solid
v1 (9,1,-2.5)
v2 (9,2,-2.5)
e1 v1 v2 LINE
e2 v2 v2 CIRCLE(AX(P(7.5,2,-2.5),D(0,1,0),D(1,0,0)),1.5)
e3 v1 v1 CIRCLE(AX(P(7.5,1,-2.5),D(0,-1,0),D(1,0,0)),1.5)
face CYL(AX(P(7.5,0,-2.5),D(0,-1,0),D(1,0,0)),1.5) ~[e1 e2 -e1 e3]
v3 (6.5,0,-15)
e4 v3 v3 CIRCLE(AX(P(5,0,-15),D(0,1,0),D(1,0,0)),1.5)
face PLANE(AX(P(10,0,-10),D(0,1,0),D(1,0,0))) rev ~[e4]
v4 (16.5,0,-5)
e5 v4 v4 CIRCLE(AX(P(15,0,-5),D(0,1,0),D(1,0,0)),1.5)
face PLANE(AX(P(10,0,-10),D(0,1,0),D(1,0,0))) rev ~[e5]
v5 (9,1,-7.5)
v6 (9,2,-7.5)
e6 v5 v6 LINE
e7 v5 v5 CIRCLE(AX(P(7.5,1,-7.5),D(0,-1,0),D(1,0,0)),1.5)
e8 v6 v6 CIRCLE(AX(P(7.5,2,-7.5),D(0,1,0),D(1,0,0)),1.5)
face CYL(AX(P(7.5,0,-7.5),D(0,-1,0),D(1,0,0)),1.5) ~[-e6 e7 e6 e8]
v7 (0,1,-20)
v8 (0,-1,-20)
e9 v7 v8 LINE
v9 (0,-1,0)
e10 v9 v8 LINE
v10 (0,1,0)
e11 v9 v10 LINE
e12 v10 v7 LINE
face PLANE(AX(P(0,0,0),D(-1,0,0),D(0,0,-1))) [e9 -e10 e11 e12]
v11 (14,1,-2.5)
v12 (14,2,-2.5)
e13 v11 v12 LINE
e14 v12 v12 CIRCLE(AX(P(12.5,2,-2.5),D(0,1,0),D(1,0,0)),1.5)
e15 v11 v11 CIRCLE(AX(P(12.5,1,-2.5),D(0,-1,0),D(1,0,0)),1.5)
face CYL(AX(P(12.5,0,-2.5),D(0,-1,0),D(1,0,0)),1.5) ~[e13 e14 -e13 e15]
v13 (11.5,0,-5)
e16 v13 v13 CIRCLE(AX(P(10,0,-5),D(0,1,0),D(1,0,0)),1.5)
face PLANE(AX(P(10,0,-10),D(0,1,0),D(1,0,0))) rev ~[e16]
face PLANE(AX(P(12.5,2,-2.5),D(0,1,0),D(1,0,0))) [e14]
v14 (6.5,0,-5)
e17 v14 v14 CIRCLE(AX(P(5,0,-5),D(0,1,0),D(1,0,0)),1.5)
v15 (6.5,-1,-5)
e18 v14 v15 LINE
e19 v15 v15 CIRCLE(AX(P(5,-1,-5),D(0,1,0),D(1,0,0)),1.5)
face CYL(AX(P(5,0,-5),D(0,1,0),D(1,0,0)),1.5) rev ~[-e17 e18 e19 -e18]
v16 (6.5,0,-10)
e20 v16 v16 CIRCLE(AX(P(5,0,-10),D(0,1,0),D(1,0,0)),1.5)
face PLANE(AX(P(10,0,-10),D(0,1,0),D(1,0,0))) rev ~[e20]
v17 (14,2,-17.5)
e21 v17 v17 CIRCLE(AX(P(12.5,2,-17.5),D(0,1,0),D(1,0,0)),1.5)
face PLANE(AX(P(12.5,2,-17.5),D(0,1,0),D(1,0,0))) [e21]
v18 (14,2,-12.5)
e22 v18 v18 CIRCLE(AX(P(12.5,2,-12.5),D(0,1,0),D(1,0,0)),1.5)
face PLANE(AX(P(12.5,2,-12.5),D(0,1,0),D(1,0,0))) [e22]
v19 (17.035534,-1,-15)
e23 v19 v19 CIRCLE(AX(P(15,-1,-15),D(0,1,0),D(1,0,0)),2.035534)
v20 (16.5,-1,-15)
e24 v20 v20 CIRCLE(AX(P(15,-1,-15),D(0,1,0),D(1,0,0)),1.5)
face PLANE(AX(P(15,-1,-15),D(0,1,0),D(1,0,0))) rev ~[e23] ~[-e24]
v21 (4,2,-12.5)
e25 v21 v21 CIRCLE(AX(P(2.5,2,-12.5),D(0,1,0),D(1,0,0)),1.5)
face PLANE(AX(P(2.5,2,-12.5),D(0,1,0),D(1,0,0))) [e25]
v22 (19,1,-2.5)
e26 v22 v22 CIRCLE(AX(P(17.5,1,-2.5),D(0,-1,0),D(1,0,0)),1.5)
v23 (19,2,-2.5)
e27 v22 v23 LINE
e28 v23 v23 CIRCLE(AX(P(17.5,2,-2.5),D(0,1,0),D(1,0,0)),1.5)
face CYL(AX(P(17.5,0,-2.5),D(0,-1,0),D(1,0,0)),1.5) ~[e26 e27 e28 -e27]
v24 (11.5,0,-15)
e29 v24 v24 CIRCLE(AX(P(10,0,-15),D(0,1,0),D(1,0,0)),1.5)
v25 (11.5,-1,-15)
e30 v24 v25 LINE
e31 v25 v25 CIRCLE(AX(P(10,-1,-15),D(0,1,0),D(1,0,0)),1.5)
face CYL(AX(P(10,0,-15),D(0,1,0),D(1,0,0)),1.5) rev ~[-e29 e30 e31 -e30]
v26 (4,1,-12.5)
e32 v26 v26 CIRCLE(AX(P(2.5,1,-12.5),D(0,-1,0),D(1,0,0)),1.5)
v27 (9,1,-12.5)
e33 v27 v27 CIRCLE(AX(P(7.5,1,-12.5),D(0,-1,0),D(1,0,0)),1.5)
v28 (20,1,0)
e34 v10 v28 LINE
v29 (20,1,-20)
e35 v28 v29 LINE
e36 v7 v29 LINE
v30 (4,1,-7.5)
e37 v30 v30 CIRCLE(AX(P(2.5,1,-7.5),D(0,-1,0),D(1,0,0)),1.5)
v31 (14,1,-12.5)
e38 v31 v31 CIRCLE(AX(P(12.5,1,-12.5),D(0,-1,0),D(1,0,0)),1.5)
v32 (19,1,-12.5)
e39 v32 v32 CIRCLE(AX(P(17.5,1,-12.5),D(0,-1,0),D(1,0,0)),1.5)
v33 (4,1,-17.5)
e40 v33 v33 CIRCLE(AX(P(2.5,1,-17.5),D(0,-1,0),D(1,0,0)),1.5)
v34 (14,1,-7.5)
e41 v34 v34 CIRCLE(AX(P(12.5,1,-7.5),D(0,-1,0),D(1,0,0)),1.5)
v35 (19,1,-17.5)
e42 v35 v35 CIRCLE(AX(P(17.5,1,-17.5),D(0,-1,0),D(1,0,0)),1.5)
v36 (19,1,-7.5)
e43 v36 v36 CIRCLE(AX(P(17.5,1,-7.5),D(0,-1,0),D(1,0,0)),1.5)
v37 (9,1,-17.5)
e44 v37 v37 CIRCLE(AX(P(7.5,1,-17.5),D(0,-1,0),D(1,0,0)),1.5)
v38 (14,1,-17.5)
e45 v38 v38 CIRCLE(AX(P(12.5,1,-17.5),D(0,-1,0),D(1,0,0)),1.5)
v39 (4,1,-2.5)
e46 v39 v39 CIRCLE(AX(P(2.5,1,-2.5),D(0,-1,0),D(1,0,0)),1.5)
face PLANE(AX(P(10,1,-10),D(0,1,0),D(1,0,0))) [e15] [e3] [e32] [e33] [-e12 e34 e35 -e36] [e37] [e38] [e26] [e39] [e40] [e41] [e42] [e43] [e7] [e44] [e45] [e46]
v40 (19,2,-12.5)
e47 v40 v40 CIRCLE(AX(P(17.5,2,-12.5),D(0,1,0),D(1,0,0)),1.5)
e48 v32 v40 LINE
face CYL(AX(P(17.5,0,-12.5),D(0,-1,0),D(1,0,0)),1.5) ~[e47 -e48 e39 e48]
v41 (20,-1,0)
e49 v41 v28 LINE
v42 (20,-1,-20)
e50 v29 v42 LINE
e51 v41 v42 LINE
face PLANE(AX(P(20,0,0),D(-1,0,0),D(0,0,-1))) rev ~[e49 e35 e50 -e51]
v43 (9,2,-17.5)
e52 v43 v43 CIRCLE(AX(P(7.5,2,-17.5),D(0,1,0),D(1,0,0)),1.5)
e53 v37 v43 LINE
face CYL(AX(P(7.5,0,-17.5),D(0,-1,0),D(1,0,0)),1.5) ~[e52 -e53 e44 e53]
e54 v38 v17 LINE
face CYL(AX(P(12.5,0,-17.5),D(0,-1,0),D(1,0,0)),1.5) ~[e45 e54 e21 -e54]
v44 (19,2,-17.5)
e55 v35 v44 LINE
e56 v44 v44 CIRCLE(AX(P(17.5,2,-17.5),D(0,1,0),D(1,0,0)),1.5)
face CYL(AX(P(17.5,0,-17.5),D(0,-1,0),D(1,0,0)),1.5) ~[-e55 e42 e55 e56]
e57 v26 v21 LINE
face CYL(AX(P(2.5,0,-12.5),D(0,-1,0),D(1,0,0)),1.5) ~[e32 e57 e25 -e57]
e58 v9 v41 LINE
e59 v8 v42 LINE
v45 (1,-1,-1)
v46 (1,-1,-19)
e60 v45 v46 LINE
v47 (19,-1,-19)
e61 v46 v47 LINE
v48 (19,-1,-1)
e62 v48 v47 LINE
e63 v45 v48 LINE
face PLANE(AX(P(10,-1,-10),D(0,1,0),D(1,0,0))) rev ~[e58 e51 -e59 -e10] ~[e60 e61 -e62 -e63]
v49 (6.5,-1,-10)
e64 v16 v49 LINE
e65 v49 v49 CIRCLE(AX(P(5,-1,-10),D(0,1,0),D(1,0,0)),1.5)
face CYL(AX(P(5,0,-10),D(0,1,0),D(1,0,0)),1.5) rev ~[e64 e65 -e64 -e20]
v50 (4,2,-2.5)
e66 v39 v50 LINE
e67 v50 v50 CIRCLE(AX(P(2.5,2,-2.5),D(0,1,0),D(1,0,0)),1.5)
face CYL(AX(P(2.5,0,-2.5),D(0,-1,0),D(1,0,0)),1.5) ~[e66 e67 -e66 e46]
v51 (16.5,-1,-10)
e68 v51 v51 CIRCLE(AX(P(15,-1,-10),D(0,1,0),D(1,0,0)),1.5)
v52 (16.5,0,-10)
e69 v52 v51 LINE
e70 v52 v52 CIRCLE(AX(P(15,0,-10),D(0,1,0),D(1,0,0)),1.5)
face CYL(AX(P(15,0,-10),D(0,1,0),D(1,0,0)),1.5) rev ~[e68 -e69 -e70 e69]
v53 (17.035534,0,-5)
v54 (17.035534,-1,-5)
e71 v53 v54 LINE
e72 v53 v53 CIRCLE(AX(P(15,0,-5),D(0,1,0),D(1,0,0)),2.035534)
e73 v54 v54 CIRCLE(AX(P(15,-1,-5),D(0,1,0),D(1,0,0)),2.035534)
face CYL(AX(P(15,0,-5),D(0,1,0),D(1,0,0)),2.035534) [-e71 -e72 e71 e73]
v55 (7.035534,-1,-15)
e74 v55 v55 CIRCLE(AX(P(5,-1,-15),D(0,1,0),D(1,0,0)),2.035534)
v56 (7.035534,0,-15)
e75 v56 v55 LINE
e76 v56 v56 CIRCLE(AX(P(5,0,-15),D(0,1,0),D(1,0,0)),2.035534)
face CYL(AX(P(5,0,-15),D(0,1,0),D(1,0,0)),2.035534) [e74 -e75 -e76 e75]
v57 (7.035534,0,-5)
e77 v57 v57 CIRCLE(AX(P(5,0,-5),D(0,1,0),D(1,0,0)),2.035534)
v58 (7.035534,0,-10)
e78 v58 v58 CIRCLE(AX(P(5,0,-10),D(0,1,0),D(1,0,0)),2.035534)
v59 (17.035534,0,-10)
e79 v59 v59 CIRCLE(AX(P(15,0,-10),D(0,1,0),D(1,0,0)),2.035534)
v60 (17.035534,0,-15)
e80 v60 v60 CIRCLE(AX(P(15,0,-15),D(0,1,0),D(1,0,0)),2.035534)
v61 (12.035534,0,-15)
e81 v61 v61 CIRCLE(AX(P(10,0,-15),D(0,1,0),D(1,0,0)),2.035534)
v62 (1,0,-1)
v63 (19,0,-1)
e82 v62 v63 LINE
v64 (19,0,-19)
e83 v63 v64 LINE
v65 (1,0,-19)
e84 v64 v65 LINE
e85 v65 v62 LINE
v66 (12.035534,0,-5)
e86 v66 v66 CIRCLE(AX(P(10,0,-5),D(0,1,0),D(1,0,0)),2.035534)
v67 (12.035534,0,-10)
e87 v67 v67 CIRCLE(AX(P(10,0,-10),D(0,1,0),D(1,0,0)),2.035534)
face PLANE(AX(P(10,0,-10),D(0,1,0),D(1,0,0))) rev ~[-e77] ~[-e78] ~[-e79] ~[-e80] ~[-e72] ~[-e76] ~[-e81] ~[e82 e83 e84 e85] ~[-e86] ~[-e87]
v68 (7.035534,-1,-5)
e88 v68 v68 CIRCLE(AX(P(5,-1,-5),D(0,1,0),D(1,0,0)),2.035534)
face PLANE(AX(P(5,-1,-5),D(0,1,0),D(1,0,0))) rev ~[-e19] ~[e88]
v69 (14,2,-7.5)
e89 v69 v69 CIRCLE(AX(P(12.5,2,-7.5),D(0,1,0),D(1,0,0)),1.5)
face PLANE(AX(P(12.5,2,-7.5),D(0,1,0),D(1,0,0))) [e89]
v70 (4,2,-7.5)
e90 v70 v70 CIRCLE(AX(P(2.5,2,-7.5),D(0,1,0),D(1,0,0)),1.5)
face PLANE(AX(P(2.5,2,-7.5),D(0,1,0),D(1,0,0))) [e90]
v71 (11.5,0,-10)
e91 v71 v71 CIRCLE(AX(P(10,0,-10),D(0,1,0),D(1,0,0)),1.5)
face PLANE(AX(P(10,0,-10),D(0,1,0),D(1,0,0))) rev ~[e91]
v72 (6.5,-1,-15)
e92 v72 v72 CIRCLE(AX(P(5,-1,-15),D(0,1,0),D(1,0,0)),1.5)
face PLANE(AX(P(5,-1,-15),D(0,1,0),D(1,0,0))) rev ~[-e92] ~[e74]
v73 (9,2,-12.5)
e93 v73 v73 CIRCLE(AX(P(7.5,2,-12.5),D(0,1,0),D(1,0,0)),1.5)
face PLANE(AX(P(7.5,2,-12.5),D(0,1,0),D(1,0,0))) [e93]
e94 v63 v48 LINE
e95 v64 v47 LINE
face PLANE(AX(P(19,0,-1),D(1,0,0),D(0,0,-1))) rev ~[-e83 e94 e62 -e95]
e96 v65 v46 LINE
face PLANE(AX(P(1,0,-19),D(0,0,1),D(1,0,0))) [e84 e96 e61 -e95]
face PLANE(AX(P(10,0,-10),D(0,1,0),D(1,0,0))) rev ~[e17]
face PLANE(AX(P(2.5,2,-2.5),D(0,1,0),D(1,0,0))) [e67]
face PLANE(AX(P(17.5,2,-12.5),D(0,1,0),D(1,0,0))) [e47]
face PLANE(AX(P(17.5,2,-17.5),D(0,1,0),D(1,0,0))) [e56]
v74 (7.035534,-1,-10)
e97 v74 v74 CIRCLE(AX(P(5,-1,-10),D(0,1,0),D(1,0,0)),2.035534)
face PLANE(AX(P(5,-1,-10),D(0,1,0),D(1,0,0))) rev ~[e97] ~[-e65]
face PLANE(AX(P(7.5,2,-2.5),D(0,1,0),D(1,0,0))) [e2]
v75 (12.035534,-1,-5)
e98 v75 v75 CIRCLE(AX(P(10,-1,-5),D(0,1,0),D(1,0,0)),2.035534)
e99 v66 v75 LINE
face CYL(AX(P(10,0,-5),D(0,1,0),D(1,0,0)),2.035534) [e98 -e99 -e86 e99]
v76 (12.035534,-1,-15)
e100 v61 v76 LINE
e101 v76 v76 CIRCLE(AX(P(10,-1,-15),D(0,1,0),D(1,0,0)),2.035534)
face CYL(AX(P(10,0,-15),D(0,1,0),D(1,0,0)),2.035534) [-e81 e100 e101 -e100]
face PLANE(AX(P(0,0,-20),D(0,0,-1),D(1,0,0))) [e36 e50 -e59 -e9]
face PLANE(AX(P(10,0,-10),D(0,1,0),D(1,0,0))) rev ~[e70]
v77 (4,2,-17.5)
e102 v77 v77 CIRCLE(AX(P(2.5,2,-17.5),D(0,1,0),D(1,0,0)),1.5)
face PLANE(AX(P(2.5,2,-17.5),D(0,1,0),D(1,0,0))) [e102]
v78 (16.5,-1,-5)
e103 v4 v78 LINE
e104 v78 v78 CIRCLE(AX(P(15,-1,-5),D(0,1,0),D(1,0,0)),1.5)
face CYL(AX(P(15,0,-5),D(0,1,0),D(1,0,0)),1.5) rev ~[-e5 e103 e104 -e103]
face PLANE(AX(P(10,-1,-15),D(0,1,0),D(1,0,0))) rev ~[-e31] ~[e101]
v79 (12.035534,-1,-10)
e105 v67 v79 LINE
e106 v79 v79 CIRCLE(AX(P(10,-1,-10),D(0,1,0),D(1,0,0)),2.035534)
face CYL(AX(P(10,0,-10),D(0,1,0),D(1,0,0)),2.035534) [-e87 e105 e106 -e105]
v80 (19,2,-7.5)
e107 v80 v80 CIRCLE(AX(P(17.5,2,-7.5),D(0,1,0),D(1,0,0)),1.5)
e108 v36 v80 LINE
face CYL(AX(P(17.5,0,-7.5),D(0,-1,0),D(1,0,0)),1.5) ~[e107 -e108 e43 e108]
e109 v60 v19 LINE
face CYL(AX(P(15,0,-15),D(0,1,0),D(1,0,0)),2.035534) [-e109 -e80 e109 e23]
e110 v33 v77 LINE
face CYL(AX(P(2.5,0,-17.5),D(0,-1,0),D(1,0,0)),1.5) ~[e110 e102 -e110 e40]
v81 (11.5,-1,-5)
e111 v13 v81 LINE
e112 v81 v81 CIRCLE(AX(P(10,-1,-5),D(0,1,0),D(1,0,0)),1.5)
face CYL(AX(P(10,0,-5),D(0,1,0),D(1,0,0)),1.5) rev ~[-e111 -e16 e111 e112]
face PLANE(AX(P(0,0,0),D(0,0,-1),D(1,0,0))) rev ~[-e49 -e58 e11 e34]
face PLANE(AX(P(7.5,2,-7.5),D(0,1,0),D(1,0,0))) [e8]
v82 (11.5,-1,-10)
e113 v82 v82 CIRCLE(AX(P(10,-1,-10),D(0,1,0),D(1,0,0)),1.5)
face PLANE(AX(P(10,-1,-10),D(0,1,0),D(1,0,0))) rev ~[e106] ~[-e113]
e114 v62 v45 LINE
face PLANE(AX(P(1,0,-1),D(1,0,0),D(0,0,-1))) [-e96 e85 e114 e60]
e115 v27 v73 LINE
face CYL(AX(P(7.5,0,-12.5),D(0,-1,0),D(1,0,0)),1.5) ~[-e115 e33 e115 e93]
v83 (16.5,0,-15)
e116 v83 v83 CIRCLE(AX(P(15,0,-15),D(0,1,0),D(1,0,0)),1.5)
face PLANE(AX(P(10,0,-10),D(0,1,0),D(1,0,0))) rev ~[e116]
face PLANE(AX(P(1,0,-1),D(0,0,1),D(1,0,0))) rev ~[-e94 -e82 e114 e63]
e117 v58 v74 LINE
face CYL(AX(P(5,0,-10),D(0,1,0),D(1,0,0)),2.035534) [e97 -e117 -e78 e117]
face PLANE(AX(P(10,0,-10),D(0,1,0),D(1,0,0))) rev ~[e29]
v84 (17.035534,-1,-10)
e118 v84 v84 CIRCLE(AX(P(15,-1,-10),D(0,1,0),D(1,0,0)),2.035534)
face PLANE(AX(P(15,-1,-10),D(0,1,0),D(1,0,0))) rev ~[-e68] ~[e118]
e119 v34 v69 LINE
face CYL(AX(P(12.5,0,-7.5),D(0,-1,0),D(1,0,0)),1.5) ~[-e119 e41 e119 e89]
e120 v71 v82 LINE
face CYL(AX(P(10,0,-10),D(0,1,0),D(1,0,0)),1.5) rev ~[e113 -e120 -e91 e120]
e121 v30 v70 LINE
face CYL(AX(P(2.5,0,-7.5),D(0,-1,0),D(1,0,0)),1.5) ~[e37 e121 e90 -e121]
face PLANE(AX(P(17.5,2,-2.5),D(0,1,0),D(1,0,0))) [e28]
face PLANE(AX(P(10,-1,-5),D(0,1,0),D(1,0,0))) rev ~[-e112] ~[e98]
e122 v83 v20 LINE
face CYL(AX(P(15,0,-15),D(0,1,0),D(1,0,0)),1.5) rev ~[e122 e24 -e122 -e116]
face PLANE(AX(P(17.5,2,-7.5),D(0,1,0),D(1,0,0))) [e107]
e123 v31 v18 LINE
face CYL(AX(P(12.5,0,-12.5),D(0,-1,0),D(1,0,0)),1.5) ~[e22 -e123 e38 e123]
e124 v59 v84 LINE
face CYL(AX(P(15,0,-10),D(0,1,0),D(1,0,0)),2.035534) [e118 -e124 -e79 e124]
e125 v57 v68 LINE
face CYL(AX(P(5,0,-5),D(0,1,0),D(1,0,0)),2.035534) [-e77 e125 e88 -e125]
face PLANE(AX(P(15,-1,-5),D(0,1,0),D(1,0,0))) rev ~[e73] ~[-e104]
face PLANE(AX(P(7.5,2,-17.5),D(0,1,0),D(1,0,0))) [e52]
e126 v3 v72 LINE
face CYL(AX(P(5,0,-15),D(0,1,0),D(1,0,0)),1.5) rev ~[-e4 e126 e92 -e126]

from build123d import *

# Parameters (mm, degrees)
SKETCH1_R              = 2.035533906
SKETCH1_R_2            = 1.5
BOSS_EXTRUDE1_DEPTH    = 1
SKETCH1_W              = 20
SKETCH1_H              = 20
SKETCH1_W_2            = 18
SKETCH1_H_2            = 18
BOSS_EXTRUDE1_2_DEPTH  = 1
BOSS_EXTRUDE1_3_DEPTH  = 1
BOSS_EXTRUDE1_4_DEPTH  = 1
BOSS_EXTRUDE1_5_DEPTH  = 1
BOSS_EXTRUDE1_6_DEPTH  = 1
BOSS_EXTRUDE1_7_DEPTH  = 1
BOSS_EXTRUDE1_8_DEPTH  = 1
BOSS_EXTRUDE1_9_DEPTH  = 1
BOSS_EXTRUDE1_10_DEPTH = 1
SKETCH1_3_R            = 1.5
BOSS_EXTRUDE2_DEPTH    = 2
BOSS_EXTRUDE2_2_DEPTH  = 2
BOSS_EXTRUDE2_3_DEPTH  = 2
BOSS_EXTRUDE2_4_DEPTH  = 2
BOSS_EXTRUDE2_5_DEPTH  = 2
BOSS_EXTRUDE2_6_DEPTH  = 2
BOSS_EXTRUDE2_7_DEPTH  = 2
BOSS_EXTRUDE2_8_DEPTH  = 2
BOSS_EXTRUDE2_9_DEPTH  = 2
BOSS_EXTRUDE2_10_DEPTH = 2
BOSS_EXTRUDE2_11_DEPTH = 2
BOSS_EXTRUDE2_12_DEPTH = 2
BOSS_EXTRUDE2_13_DEPTH = 2
BOSS_EXTRUDE2_14_DEPTH = 2
BOSS_EXTRUDE2_15_DEPTH = 2
BOSS_EXTRUDE2_16_DEPTH = 2
SKETCH1_4_W            = 20
SKETCH1_4_H            = 20
BOSS_EXTRUDE3_DEPTH    = 1


with BuildPart() as part:
    # Sketch1 → Boss-Extrude1 (new body)
    with BuildSketch(Plane(origin=(0, 0, 0), x_dir=(1, 0, 0), z_dir=(0, 1, 0))):
        with Locations((5, 15)):
            Circle(SKETCH1_R)
        with Locations((5, 15)):
            Circle(SKETCH1_R_2, mode=Mode.SUBTRACT)
    extrude(amount=-BOSS_EXTRUDE1_DEPTH)



with BuildPart() as body_2:
    # Sketch1 → Boss-Extrude1 2 (new body)
    with BuildSketch(Plane(origin=(0, 0, 0), x_dir=(1, 0, 0), z_dir=(0, 1, 0))):
        with Locations((10, 10)):
            Rectangle(SKETCH1_W, SKETCH1_H)
        with Locations((10, 10)):
            Rectangle(SKETCH1_W_2, SKETCH1_H_2, mode=Mode.SUBTRACT)
    extrude(amount=-BOSS_EXTRUDE1_2_DEPTH)


with BuildPart() as body_3:
    # Sketch1 → Boss-Extrude1 3 (new body)
    with BuildSketch(Plane(origin=(0, 0, 0), x_dir=(1, 0, 0), z_dir=(0, 1, 0))):
        with Locations((5, 10)):
            Circle(SKETCH1_R)
        with Locations((5, 10)):
            Circle(SKETCH1_R_2, mode=Mode.SUBTRACT)
    extrude(amount=-BOSS_EXTRUDE1_3_DEPTH)


with BuildPart() as body_4:
    # Sketch1 → Boss-Extrude1 4 (new body)
    with BuildSketch(Plane(origin=(0, 0, 0), x_dir=(1, 0, 0), z_dir=(0, 1, 0))):
        with Locations((10, 15)):
            Circle(SKETCH1_R)
        with Locations((10, 15)):
            Circle(SKETCH1_R_2, mode=Mode.SUBTRACT)
    extrude(amount=-BOSS_EXTRUDE1_4_DEPTH)


with BuildPart() as body_5:
    # Sketch1 → Boss-Extrude1 5 (new body)
    with BuildSketch(Plane(origin=(0, 0, 0), x_dir=(1, 0, 0), z_dir=(0, 1, 0))):
        with Locations((5, 5)):
            Circle(SKETCH1_R)
        with Locations((5, 5)):
            Circle(SKETCH1_R_2, mode=Mode.SUBTRACT)
    extrude(amount=-BOSS_EXTRUDE1_5_DEPTH)


with BuildPart() as body_6:
    # Sketch1 → Boss-Extrude1 6 (new body)
    with BuildSketch(Plane(origin=(0, 0, 0), x_dir=(1, 0, 0), z_dir=(0, 1, 0))):
        with Locations((10, 10)):
            Circle(SKETCH1_R)
        with Locations((10, 10)):
            Circle(SKETCH1_R_2, mode=Mode.SUBTRACT)
    extrude(amount=-BOSS_EXTRUDE1_6_DEPTH)


with BuildPart() as body_7:
    # Sketch1 → Boss-Extrude1 7 (new body)
    with BuildSketch(Plane(origin=(0, 0, 0), x_dir=(1, 0, 0), z_dir=(0, 1, 0))):
        with Locations((15, 15)):
            Circle(SKETCH1_R)
        with Locations((15, 15)):
            Circle(SKETCH1_R_2, mode=Mode.SUBTRACT)
    extrude(amount=-BOSS_EXTRUDE1_7_DEPTH)


with BuildPart() as body_8:
    # Sketch1 → Boss-Extrude1 8 (new body)
    with BuildSketch(Plane(origin=(0, 0, 0), x_dir=(1, 0, 0), z_dir=(0, 1, 0))):
        with Locations((10, 5)):
            Circle(SKETCH1_R)
        with Locations((10, 5)):
            Circle(SKETCH1_R_2, mode=Mode.SUBTRACT)
    extrude(amount=-BOSS_EXTRUDE1_8_DEPTH)


with BuildPart() as body_9:
    # Sketch1 → Boss-Extrude1 9 (new body)
    with BuildSketch(Plane(origin=(0, 0, 0), x_dir=(1, 0, 0), z_dir=(0, 1, 0))):
        with Locations((15, 10)):
            Circle(SKETCH1_R)
        with Locations((15, 10)):
            Circle(SKETCH1_R_2, mode=Mode.SUBTRACT)
    extrude(amount=-BOSS_EXTRUDE1_9_DEPTH)


with BuildPart() as body_10:
    # Sketch1 → Boss-Extrude1 10 (new body)
    with BuildSketch(Plane(origin=(0, 0, 0), x_dir=(1, 0, 0), z_dir=(0, 1, 0))):
        with Locations((15, 5)):
            Circle(SKETCH1_R)
        with Locations((15, 5)):
            Circle(SKETCH1_R_2, mode=Mode.SUBTRACT)
    extrude(amount=-BOSS_EXTRUDE1_10_DEPTH)


with BuildPart() as body_11:
    # Sketch1<3> → Boss-Extrude2 (new body)
    with BuildSketch(Plane(origin=(0, 0, 0), x_dir=(1, 0, 0), z_dir=(0, 1, 0))):
        with Locations((2.5, 12.5)):
            Circle(SKETCH1_3_R)
    extrude(amount=BOSS_EXTRUDE2_DEPTH)


with BuildPart() as body_12:
    # Sketch1<3> → Boss-Extrude2 2 (new body)
    with BuildSketch(Plane(origin=(0, 0, 0), x_dir=(1, 0, 0), z_dir=(0, 1, 0))):
        with Locations((2.5, 17.5)):
            Circle(SKETCH1_3_R)
    extrude(amount=BOSS_EXTRUDE2_2_DEPTH)


with BuildPart() as body_13:
    # Sketch1<3> → Boss-Extrude2 3 (new body)
    with BuildSketch(Plane(origin=(0, 0, 0), x_dir=(1, 0, 0), z_dir=(0, 1, 0))):
        with Locations((7.5, 12.5)):
            Circle(SKETCH1_3_R)
    extrude(amount=BOSS_EXTRUDE2_3_DEPTH)


with BuildPart() as body_14:
    # Sketch1<3> → Boss-Extrude2 4 (new body)
    with BuildSketch(Plane(origin=(0, 0, 0), x_dir=(1, 0, 0), z_dir=(0, 1, 0))):
        with Locations((2.5, 7.5)):
            Circle(SKETCH1_3_R)
    extrude(amount=BOSS_EXTRUDE2_4_DEPTH)


with BuildPart() as body_15:
    # Sketch1<3> → Boss-Extrude2 5 (new body)
    with BuildSketch(Plane(origin=(0, 0, 0), x_dir=(1, 0, 0), z_dir=(0, 1, 0))):
        with Locations((7.5, 17.5)):
            Circle(SKETCH1_3_R)
    extrude(amount=BOSS_EXTRUDE2_5_DEPTH)


with BuildPart() as body_16:
    # Sketch1<3> → Boss-Extrude2 6 (new body)
    with BuildSketch(Plane(origin=(0, 0, 0), x_dir=(1, 0, 0), z_dir=(0, 1, 0))):
        with Locations((2.5, 2.5)):
            Circle(SKETCH1_3_R)
    extrude(amount=BOSS_EXTRUDE2_6_DEPTH)


with BuildPart() as body_17:
    # Sketch1<3> → Boss-Extrude2 7 (new body)
    with BuildSketch(Plane(origin=(0, 0, 0), x_dir=(1, 0, 0), z_dir=(0, 1, 0))):
        with Locations((12.5, 12.5)):
            Circle(SKETCH1_3_R)
    extrude(amount=BOSS_EXTRUDE2_7_DEPTH)


with BuildPart() as body_18:
    # Sketch1<3> → Boss-Extrude2 8 (new body)
    with BuildSketch(Plane(origin=(0, 0, 0), x_dir=(1, 0, 0), z_dir=(0, 1, 0))):
        with Locations((7.5, 7.5)):
            Circle(SKETCH1_3_R)
    extrude(amount=BOSS_EXTRUDE2_8_DEPTH)


with BuildPart() as body_19:
    # Sketch1<3> → Boss-Extrude2 9 (new body)
    with BuildSketch(Plane(origin=(0, 0, 0), x_dir=(1, 0, 0), z_dir=(0, 1, 0))):
        with Locations((12.5, 17.5)):
            Circle(SKETCH1_3_R)
    extrude(amount=BOSS_EXTRUDE2_9_DEPTH)


with BuildPart() as body_20:
    # Sketch1<3> → Boss-Extrude2 10 (new body)
    with BuildSketch(Plane(origin=(0, 0, 0), x_dir=(1, 0, 0), z_dir=(0, 1, 0))):
        with Locations((7.5, 2.5)):
            Circle(SKETCH1_3_R)
    extrude(amount=BOSS_EXTRUDE2_10_DEPTH)


with BuildPart() as body_21:
    # Sketch1<3> → Boss-Extrude2 11 (new body)
    with BuildSketch(Plane(origin=(0, 0, 0), x_dir=(1, 0, 0), z_dir=(0, 1, 0))):
        with Locations((17.5, 17.5)):
            Circle(SKETCH1_3_R)
    extrude(amount=BOSS_EXTRUDE2_11_DEPTH)


with BuildPart() as body_22:
    # Sketch1<3> → Boss-Extrude2 12 (new body)
    with BuildSketch(Plane(origin=(0, 0, 0), x_dir=(1, 0, 0), z_dir=(0, 1, 0))):
        with Locations((17.5, 12.5)):
            Circle(SKETCH1_3_R)
    extrude(amount=BOSS_EXTRUDE2_12_DEPTH)


with BuildPart() as body_23:
    # Sketch1<3> → Boss-Extrude2 13 (new body)
    with BuildSketch(Plane(origin=(0, 0, 0), x_dir=(1, 0, 0), z_dir=(0, 1, 0))):
        with Locations((12.5, 7.5)):
            Circle(SKETCH1_3_R)
    extrude(amount=BOSS_EXTRUDE2_13_DEPTH)


with BuildPart() as body_24:
    # Sketch1<3> → Boss-Extrude2 14 (new body)
    with BuildSketch(Plane(origin=(0, 0, 0), x_dir=(1, 0, 0), z_dir=(0, 1, 0))):
        with Locations((12.5, 2.5)):
            Circle(SKETCH1_3_R)
    extrude(amount=BOSS_EXTRUDE2_14_DEPTH)


with BuildPart() as body_25:
    # Sketch1<3> → Boss-Extrude2 15 (new body)
    with BuildSketch(Plane(origin=(0, 0, 0), x_dir=(1, 0, 0), z_dir=(0, 1, 0))):
        with Locations((17.5, 2.5)):
            Circle(SKETCH1_3_R)
    extrude(amount=BOSS_EXTRUDE2_15_DEPTH)


with BuildPart() as body_26:
    # Sketch1<3> → Boss-Extrude2 16 (new body)
    with BuildSketch(Plane(origin=(0, 0, 0), x_dir=(1, 0, 0), z_dir=(0, 1, 0))):
        with Locations((17.5, 7.5)):
            Circle(SKETCH1_3_R)
    extrude(amount=BOSS_EXTRUDE2_16_DEPTH)


with BuildPart() as part_1:
    add(part.part)

    add(body_2.part)  # Boss-Extrude3 merges body 2

    add(body_3.part)  # Boss-Extrude3 merges body 3

    add(body_4.part)  # Boss-Extrude3 merges body 4

    add(body_5.part)  # Boss-Extrude3 merges body 5

    add(body_6.part)  # Boss-Extrude3 merges body 6

    add(body_7.part)  # Boss-Extrude3 merges body 7

    add(body_8.part)  # Boss-Extrude3 merges body 8

    add(body_9.part)  # Boss-Extrude3 merges body 9

    add(body_10.part)  # Boss-Extrude3 merges body 10

    add(body_11.part)  # Boss-Extrude3 merges body 11

    add(body_12.part)  # Boss-Extrude3 merges body 12

    add(body_13.part)  # Boss-Extrude3 merges body 13

    add(body_14.part)  # Boss-Extrude3 merges body 14

    add(body_15.part)  # Boss-Extrude3 merges body 15

    add(body_16.part)  # Boss-Extrude3 merges body 16

    add(body_17.part)  # Boss-Extrude3 merges body 17

    add(body_18.part)  # Boss-Extrude3 merges body 18

    add(body_19.part)  # Boss-Extrude3 merges body 19

    add(body_20.part)  # Boss-Extrude3 merges body 20

    add(body_21.part)  # Boss-Extrude3 merges body 21

    add(body_22.part)  # Boss-Extrude3 merges body 22

    add(body_23.part)  # Boss-Extrude3 merges body 23

    add(body_24.part)  # Boss-Extrude3 merges body 24

    add(body_25.part)  # Boss-Extrude3 merges body 25

    add(body_26.part)  # Boss-Extrude3 merges body 26
    # Sketch1<4> → Boss-Extrude3 (add)
    with BuildSketch(Plane(origin=(0, 0, 0), x_dir=(1, 0, 0), z_dir=(0, 1, 0))):
        with Locations((10, 10)):
            Rectangle(SKETCH1_4_W, SKETCH1_4_H)
    extrude(amount=BOSS_EXTRUDE3_DEPTH)


solid = part_1.part
